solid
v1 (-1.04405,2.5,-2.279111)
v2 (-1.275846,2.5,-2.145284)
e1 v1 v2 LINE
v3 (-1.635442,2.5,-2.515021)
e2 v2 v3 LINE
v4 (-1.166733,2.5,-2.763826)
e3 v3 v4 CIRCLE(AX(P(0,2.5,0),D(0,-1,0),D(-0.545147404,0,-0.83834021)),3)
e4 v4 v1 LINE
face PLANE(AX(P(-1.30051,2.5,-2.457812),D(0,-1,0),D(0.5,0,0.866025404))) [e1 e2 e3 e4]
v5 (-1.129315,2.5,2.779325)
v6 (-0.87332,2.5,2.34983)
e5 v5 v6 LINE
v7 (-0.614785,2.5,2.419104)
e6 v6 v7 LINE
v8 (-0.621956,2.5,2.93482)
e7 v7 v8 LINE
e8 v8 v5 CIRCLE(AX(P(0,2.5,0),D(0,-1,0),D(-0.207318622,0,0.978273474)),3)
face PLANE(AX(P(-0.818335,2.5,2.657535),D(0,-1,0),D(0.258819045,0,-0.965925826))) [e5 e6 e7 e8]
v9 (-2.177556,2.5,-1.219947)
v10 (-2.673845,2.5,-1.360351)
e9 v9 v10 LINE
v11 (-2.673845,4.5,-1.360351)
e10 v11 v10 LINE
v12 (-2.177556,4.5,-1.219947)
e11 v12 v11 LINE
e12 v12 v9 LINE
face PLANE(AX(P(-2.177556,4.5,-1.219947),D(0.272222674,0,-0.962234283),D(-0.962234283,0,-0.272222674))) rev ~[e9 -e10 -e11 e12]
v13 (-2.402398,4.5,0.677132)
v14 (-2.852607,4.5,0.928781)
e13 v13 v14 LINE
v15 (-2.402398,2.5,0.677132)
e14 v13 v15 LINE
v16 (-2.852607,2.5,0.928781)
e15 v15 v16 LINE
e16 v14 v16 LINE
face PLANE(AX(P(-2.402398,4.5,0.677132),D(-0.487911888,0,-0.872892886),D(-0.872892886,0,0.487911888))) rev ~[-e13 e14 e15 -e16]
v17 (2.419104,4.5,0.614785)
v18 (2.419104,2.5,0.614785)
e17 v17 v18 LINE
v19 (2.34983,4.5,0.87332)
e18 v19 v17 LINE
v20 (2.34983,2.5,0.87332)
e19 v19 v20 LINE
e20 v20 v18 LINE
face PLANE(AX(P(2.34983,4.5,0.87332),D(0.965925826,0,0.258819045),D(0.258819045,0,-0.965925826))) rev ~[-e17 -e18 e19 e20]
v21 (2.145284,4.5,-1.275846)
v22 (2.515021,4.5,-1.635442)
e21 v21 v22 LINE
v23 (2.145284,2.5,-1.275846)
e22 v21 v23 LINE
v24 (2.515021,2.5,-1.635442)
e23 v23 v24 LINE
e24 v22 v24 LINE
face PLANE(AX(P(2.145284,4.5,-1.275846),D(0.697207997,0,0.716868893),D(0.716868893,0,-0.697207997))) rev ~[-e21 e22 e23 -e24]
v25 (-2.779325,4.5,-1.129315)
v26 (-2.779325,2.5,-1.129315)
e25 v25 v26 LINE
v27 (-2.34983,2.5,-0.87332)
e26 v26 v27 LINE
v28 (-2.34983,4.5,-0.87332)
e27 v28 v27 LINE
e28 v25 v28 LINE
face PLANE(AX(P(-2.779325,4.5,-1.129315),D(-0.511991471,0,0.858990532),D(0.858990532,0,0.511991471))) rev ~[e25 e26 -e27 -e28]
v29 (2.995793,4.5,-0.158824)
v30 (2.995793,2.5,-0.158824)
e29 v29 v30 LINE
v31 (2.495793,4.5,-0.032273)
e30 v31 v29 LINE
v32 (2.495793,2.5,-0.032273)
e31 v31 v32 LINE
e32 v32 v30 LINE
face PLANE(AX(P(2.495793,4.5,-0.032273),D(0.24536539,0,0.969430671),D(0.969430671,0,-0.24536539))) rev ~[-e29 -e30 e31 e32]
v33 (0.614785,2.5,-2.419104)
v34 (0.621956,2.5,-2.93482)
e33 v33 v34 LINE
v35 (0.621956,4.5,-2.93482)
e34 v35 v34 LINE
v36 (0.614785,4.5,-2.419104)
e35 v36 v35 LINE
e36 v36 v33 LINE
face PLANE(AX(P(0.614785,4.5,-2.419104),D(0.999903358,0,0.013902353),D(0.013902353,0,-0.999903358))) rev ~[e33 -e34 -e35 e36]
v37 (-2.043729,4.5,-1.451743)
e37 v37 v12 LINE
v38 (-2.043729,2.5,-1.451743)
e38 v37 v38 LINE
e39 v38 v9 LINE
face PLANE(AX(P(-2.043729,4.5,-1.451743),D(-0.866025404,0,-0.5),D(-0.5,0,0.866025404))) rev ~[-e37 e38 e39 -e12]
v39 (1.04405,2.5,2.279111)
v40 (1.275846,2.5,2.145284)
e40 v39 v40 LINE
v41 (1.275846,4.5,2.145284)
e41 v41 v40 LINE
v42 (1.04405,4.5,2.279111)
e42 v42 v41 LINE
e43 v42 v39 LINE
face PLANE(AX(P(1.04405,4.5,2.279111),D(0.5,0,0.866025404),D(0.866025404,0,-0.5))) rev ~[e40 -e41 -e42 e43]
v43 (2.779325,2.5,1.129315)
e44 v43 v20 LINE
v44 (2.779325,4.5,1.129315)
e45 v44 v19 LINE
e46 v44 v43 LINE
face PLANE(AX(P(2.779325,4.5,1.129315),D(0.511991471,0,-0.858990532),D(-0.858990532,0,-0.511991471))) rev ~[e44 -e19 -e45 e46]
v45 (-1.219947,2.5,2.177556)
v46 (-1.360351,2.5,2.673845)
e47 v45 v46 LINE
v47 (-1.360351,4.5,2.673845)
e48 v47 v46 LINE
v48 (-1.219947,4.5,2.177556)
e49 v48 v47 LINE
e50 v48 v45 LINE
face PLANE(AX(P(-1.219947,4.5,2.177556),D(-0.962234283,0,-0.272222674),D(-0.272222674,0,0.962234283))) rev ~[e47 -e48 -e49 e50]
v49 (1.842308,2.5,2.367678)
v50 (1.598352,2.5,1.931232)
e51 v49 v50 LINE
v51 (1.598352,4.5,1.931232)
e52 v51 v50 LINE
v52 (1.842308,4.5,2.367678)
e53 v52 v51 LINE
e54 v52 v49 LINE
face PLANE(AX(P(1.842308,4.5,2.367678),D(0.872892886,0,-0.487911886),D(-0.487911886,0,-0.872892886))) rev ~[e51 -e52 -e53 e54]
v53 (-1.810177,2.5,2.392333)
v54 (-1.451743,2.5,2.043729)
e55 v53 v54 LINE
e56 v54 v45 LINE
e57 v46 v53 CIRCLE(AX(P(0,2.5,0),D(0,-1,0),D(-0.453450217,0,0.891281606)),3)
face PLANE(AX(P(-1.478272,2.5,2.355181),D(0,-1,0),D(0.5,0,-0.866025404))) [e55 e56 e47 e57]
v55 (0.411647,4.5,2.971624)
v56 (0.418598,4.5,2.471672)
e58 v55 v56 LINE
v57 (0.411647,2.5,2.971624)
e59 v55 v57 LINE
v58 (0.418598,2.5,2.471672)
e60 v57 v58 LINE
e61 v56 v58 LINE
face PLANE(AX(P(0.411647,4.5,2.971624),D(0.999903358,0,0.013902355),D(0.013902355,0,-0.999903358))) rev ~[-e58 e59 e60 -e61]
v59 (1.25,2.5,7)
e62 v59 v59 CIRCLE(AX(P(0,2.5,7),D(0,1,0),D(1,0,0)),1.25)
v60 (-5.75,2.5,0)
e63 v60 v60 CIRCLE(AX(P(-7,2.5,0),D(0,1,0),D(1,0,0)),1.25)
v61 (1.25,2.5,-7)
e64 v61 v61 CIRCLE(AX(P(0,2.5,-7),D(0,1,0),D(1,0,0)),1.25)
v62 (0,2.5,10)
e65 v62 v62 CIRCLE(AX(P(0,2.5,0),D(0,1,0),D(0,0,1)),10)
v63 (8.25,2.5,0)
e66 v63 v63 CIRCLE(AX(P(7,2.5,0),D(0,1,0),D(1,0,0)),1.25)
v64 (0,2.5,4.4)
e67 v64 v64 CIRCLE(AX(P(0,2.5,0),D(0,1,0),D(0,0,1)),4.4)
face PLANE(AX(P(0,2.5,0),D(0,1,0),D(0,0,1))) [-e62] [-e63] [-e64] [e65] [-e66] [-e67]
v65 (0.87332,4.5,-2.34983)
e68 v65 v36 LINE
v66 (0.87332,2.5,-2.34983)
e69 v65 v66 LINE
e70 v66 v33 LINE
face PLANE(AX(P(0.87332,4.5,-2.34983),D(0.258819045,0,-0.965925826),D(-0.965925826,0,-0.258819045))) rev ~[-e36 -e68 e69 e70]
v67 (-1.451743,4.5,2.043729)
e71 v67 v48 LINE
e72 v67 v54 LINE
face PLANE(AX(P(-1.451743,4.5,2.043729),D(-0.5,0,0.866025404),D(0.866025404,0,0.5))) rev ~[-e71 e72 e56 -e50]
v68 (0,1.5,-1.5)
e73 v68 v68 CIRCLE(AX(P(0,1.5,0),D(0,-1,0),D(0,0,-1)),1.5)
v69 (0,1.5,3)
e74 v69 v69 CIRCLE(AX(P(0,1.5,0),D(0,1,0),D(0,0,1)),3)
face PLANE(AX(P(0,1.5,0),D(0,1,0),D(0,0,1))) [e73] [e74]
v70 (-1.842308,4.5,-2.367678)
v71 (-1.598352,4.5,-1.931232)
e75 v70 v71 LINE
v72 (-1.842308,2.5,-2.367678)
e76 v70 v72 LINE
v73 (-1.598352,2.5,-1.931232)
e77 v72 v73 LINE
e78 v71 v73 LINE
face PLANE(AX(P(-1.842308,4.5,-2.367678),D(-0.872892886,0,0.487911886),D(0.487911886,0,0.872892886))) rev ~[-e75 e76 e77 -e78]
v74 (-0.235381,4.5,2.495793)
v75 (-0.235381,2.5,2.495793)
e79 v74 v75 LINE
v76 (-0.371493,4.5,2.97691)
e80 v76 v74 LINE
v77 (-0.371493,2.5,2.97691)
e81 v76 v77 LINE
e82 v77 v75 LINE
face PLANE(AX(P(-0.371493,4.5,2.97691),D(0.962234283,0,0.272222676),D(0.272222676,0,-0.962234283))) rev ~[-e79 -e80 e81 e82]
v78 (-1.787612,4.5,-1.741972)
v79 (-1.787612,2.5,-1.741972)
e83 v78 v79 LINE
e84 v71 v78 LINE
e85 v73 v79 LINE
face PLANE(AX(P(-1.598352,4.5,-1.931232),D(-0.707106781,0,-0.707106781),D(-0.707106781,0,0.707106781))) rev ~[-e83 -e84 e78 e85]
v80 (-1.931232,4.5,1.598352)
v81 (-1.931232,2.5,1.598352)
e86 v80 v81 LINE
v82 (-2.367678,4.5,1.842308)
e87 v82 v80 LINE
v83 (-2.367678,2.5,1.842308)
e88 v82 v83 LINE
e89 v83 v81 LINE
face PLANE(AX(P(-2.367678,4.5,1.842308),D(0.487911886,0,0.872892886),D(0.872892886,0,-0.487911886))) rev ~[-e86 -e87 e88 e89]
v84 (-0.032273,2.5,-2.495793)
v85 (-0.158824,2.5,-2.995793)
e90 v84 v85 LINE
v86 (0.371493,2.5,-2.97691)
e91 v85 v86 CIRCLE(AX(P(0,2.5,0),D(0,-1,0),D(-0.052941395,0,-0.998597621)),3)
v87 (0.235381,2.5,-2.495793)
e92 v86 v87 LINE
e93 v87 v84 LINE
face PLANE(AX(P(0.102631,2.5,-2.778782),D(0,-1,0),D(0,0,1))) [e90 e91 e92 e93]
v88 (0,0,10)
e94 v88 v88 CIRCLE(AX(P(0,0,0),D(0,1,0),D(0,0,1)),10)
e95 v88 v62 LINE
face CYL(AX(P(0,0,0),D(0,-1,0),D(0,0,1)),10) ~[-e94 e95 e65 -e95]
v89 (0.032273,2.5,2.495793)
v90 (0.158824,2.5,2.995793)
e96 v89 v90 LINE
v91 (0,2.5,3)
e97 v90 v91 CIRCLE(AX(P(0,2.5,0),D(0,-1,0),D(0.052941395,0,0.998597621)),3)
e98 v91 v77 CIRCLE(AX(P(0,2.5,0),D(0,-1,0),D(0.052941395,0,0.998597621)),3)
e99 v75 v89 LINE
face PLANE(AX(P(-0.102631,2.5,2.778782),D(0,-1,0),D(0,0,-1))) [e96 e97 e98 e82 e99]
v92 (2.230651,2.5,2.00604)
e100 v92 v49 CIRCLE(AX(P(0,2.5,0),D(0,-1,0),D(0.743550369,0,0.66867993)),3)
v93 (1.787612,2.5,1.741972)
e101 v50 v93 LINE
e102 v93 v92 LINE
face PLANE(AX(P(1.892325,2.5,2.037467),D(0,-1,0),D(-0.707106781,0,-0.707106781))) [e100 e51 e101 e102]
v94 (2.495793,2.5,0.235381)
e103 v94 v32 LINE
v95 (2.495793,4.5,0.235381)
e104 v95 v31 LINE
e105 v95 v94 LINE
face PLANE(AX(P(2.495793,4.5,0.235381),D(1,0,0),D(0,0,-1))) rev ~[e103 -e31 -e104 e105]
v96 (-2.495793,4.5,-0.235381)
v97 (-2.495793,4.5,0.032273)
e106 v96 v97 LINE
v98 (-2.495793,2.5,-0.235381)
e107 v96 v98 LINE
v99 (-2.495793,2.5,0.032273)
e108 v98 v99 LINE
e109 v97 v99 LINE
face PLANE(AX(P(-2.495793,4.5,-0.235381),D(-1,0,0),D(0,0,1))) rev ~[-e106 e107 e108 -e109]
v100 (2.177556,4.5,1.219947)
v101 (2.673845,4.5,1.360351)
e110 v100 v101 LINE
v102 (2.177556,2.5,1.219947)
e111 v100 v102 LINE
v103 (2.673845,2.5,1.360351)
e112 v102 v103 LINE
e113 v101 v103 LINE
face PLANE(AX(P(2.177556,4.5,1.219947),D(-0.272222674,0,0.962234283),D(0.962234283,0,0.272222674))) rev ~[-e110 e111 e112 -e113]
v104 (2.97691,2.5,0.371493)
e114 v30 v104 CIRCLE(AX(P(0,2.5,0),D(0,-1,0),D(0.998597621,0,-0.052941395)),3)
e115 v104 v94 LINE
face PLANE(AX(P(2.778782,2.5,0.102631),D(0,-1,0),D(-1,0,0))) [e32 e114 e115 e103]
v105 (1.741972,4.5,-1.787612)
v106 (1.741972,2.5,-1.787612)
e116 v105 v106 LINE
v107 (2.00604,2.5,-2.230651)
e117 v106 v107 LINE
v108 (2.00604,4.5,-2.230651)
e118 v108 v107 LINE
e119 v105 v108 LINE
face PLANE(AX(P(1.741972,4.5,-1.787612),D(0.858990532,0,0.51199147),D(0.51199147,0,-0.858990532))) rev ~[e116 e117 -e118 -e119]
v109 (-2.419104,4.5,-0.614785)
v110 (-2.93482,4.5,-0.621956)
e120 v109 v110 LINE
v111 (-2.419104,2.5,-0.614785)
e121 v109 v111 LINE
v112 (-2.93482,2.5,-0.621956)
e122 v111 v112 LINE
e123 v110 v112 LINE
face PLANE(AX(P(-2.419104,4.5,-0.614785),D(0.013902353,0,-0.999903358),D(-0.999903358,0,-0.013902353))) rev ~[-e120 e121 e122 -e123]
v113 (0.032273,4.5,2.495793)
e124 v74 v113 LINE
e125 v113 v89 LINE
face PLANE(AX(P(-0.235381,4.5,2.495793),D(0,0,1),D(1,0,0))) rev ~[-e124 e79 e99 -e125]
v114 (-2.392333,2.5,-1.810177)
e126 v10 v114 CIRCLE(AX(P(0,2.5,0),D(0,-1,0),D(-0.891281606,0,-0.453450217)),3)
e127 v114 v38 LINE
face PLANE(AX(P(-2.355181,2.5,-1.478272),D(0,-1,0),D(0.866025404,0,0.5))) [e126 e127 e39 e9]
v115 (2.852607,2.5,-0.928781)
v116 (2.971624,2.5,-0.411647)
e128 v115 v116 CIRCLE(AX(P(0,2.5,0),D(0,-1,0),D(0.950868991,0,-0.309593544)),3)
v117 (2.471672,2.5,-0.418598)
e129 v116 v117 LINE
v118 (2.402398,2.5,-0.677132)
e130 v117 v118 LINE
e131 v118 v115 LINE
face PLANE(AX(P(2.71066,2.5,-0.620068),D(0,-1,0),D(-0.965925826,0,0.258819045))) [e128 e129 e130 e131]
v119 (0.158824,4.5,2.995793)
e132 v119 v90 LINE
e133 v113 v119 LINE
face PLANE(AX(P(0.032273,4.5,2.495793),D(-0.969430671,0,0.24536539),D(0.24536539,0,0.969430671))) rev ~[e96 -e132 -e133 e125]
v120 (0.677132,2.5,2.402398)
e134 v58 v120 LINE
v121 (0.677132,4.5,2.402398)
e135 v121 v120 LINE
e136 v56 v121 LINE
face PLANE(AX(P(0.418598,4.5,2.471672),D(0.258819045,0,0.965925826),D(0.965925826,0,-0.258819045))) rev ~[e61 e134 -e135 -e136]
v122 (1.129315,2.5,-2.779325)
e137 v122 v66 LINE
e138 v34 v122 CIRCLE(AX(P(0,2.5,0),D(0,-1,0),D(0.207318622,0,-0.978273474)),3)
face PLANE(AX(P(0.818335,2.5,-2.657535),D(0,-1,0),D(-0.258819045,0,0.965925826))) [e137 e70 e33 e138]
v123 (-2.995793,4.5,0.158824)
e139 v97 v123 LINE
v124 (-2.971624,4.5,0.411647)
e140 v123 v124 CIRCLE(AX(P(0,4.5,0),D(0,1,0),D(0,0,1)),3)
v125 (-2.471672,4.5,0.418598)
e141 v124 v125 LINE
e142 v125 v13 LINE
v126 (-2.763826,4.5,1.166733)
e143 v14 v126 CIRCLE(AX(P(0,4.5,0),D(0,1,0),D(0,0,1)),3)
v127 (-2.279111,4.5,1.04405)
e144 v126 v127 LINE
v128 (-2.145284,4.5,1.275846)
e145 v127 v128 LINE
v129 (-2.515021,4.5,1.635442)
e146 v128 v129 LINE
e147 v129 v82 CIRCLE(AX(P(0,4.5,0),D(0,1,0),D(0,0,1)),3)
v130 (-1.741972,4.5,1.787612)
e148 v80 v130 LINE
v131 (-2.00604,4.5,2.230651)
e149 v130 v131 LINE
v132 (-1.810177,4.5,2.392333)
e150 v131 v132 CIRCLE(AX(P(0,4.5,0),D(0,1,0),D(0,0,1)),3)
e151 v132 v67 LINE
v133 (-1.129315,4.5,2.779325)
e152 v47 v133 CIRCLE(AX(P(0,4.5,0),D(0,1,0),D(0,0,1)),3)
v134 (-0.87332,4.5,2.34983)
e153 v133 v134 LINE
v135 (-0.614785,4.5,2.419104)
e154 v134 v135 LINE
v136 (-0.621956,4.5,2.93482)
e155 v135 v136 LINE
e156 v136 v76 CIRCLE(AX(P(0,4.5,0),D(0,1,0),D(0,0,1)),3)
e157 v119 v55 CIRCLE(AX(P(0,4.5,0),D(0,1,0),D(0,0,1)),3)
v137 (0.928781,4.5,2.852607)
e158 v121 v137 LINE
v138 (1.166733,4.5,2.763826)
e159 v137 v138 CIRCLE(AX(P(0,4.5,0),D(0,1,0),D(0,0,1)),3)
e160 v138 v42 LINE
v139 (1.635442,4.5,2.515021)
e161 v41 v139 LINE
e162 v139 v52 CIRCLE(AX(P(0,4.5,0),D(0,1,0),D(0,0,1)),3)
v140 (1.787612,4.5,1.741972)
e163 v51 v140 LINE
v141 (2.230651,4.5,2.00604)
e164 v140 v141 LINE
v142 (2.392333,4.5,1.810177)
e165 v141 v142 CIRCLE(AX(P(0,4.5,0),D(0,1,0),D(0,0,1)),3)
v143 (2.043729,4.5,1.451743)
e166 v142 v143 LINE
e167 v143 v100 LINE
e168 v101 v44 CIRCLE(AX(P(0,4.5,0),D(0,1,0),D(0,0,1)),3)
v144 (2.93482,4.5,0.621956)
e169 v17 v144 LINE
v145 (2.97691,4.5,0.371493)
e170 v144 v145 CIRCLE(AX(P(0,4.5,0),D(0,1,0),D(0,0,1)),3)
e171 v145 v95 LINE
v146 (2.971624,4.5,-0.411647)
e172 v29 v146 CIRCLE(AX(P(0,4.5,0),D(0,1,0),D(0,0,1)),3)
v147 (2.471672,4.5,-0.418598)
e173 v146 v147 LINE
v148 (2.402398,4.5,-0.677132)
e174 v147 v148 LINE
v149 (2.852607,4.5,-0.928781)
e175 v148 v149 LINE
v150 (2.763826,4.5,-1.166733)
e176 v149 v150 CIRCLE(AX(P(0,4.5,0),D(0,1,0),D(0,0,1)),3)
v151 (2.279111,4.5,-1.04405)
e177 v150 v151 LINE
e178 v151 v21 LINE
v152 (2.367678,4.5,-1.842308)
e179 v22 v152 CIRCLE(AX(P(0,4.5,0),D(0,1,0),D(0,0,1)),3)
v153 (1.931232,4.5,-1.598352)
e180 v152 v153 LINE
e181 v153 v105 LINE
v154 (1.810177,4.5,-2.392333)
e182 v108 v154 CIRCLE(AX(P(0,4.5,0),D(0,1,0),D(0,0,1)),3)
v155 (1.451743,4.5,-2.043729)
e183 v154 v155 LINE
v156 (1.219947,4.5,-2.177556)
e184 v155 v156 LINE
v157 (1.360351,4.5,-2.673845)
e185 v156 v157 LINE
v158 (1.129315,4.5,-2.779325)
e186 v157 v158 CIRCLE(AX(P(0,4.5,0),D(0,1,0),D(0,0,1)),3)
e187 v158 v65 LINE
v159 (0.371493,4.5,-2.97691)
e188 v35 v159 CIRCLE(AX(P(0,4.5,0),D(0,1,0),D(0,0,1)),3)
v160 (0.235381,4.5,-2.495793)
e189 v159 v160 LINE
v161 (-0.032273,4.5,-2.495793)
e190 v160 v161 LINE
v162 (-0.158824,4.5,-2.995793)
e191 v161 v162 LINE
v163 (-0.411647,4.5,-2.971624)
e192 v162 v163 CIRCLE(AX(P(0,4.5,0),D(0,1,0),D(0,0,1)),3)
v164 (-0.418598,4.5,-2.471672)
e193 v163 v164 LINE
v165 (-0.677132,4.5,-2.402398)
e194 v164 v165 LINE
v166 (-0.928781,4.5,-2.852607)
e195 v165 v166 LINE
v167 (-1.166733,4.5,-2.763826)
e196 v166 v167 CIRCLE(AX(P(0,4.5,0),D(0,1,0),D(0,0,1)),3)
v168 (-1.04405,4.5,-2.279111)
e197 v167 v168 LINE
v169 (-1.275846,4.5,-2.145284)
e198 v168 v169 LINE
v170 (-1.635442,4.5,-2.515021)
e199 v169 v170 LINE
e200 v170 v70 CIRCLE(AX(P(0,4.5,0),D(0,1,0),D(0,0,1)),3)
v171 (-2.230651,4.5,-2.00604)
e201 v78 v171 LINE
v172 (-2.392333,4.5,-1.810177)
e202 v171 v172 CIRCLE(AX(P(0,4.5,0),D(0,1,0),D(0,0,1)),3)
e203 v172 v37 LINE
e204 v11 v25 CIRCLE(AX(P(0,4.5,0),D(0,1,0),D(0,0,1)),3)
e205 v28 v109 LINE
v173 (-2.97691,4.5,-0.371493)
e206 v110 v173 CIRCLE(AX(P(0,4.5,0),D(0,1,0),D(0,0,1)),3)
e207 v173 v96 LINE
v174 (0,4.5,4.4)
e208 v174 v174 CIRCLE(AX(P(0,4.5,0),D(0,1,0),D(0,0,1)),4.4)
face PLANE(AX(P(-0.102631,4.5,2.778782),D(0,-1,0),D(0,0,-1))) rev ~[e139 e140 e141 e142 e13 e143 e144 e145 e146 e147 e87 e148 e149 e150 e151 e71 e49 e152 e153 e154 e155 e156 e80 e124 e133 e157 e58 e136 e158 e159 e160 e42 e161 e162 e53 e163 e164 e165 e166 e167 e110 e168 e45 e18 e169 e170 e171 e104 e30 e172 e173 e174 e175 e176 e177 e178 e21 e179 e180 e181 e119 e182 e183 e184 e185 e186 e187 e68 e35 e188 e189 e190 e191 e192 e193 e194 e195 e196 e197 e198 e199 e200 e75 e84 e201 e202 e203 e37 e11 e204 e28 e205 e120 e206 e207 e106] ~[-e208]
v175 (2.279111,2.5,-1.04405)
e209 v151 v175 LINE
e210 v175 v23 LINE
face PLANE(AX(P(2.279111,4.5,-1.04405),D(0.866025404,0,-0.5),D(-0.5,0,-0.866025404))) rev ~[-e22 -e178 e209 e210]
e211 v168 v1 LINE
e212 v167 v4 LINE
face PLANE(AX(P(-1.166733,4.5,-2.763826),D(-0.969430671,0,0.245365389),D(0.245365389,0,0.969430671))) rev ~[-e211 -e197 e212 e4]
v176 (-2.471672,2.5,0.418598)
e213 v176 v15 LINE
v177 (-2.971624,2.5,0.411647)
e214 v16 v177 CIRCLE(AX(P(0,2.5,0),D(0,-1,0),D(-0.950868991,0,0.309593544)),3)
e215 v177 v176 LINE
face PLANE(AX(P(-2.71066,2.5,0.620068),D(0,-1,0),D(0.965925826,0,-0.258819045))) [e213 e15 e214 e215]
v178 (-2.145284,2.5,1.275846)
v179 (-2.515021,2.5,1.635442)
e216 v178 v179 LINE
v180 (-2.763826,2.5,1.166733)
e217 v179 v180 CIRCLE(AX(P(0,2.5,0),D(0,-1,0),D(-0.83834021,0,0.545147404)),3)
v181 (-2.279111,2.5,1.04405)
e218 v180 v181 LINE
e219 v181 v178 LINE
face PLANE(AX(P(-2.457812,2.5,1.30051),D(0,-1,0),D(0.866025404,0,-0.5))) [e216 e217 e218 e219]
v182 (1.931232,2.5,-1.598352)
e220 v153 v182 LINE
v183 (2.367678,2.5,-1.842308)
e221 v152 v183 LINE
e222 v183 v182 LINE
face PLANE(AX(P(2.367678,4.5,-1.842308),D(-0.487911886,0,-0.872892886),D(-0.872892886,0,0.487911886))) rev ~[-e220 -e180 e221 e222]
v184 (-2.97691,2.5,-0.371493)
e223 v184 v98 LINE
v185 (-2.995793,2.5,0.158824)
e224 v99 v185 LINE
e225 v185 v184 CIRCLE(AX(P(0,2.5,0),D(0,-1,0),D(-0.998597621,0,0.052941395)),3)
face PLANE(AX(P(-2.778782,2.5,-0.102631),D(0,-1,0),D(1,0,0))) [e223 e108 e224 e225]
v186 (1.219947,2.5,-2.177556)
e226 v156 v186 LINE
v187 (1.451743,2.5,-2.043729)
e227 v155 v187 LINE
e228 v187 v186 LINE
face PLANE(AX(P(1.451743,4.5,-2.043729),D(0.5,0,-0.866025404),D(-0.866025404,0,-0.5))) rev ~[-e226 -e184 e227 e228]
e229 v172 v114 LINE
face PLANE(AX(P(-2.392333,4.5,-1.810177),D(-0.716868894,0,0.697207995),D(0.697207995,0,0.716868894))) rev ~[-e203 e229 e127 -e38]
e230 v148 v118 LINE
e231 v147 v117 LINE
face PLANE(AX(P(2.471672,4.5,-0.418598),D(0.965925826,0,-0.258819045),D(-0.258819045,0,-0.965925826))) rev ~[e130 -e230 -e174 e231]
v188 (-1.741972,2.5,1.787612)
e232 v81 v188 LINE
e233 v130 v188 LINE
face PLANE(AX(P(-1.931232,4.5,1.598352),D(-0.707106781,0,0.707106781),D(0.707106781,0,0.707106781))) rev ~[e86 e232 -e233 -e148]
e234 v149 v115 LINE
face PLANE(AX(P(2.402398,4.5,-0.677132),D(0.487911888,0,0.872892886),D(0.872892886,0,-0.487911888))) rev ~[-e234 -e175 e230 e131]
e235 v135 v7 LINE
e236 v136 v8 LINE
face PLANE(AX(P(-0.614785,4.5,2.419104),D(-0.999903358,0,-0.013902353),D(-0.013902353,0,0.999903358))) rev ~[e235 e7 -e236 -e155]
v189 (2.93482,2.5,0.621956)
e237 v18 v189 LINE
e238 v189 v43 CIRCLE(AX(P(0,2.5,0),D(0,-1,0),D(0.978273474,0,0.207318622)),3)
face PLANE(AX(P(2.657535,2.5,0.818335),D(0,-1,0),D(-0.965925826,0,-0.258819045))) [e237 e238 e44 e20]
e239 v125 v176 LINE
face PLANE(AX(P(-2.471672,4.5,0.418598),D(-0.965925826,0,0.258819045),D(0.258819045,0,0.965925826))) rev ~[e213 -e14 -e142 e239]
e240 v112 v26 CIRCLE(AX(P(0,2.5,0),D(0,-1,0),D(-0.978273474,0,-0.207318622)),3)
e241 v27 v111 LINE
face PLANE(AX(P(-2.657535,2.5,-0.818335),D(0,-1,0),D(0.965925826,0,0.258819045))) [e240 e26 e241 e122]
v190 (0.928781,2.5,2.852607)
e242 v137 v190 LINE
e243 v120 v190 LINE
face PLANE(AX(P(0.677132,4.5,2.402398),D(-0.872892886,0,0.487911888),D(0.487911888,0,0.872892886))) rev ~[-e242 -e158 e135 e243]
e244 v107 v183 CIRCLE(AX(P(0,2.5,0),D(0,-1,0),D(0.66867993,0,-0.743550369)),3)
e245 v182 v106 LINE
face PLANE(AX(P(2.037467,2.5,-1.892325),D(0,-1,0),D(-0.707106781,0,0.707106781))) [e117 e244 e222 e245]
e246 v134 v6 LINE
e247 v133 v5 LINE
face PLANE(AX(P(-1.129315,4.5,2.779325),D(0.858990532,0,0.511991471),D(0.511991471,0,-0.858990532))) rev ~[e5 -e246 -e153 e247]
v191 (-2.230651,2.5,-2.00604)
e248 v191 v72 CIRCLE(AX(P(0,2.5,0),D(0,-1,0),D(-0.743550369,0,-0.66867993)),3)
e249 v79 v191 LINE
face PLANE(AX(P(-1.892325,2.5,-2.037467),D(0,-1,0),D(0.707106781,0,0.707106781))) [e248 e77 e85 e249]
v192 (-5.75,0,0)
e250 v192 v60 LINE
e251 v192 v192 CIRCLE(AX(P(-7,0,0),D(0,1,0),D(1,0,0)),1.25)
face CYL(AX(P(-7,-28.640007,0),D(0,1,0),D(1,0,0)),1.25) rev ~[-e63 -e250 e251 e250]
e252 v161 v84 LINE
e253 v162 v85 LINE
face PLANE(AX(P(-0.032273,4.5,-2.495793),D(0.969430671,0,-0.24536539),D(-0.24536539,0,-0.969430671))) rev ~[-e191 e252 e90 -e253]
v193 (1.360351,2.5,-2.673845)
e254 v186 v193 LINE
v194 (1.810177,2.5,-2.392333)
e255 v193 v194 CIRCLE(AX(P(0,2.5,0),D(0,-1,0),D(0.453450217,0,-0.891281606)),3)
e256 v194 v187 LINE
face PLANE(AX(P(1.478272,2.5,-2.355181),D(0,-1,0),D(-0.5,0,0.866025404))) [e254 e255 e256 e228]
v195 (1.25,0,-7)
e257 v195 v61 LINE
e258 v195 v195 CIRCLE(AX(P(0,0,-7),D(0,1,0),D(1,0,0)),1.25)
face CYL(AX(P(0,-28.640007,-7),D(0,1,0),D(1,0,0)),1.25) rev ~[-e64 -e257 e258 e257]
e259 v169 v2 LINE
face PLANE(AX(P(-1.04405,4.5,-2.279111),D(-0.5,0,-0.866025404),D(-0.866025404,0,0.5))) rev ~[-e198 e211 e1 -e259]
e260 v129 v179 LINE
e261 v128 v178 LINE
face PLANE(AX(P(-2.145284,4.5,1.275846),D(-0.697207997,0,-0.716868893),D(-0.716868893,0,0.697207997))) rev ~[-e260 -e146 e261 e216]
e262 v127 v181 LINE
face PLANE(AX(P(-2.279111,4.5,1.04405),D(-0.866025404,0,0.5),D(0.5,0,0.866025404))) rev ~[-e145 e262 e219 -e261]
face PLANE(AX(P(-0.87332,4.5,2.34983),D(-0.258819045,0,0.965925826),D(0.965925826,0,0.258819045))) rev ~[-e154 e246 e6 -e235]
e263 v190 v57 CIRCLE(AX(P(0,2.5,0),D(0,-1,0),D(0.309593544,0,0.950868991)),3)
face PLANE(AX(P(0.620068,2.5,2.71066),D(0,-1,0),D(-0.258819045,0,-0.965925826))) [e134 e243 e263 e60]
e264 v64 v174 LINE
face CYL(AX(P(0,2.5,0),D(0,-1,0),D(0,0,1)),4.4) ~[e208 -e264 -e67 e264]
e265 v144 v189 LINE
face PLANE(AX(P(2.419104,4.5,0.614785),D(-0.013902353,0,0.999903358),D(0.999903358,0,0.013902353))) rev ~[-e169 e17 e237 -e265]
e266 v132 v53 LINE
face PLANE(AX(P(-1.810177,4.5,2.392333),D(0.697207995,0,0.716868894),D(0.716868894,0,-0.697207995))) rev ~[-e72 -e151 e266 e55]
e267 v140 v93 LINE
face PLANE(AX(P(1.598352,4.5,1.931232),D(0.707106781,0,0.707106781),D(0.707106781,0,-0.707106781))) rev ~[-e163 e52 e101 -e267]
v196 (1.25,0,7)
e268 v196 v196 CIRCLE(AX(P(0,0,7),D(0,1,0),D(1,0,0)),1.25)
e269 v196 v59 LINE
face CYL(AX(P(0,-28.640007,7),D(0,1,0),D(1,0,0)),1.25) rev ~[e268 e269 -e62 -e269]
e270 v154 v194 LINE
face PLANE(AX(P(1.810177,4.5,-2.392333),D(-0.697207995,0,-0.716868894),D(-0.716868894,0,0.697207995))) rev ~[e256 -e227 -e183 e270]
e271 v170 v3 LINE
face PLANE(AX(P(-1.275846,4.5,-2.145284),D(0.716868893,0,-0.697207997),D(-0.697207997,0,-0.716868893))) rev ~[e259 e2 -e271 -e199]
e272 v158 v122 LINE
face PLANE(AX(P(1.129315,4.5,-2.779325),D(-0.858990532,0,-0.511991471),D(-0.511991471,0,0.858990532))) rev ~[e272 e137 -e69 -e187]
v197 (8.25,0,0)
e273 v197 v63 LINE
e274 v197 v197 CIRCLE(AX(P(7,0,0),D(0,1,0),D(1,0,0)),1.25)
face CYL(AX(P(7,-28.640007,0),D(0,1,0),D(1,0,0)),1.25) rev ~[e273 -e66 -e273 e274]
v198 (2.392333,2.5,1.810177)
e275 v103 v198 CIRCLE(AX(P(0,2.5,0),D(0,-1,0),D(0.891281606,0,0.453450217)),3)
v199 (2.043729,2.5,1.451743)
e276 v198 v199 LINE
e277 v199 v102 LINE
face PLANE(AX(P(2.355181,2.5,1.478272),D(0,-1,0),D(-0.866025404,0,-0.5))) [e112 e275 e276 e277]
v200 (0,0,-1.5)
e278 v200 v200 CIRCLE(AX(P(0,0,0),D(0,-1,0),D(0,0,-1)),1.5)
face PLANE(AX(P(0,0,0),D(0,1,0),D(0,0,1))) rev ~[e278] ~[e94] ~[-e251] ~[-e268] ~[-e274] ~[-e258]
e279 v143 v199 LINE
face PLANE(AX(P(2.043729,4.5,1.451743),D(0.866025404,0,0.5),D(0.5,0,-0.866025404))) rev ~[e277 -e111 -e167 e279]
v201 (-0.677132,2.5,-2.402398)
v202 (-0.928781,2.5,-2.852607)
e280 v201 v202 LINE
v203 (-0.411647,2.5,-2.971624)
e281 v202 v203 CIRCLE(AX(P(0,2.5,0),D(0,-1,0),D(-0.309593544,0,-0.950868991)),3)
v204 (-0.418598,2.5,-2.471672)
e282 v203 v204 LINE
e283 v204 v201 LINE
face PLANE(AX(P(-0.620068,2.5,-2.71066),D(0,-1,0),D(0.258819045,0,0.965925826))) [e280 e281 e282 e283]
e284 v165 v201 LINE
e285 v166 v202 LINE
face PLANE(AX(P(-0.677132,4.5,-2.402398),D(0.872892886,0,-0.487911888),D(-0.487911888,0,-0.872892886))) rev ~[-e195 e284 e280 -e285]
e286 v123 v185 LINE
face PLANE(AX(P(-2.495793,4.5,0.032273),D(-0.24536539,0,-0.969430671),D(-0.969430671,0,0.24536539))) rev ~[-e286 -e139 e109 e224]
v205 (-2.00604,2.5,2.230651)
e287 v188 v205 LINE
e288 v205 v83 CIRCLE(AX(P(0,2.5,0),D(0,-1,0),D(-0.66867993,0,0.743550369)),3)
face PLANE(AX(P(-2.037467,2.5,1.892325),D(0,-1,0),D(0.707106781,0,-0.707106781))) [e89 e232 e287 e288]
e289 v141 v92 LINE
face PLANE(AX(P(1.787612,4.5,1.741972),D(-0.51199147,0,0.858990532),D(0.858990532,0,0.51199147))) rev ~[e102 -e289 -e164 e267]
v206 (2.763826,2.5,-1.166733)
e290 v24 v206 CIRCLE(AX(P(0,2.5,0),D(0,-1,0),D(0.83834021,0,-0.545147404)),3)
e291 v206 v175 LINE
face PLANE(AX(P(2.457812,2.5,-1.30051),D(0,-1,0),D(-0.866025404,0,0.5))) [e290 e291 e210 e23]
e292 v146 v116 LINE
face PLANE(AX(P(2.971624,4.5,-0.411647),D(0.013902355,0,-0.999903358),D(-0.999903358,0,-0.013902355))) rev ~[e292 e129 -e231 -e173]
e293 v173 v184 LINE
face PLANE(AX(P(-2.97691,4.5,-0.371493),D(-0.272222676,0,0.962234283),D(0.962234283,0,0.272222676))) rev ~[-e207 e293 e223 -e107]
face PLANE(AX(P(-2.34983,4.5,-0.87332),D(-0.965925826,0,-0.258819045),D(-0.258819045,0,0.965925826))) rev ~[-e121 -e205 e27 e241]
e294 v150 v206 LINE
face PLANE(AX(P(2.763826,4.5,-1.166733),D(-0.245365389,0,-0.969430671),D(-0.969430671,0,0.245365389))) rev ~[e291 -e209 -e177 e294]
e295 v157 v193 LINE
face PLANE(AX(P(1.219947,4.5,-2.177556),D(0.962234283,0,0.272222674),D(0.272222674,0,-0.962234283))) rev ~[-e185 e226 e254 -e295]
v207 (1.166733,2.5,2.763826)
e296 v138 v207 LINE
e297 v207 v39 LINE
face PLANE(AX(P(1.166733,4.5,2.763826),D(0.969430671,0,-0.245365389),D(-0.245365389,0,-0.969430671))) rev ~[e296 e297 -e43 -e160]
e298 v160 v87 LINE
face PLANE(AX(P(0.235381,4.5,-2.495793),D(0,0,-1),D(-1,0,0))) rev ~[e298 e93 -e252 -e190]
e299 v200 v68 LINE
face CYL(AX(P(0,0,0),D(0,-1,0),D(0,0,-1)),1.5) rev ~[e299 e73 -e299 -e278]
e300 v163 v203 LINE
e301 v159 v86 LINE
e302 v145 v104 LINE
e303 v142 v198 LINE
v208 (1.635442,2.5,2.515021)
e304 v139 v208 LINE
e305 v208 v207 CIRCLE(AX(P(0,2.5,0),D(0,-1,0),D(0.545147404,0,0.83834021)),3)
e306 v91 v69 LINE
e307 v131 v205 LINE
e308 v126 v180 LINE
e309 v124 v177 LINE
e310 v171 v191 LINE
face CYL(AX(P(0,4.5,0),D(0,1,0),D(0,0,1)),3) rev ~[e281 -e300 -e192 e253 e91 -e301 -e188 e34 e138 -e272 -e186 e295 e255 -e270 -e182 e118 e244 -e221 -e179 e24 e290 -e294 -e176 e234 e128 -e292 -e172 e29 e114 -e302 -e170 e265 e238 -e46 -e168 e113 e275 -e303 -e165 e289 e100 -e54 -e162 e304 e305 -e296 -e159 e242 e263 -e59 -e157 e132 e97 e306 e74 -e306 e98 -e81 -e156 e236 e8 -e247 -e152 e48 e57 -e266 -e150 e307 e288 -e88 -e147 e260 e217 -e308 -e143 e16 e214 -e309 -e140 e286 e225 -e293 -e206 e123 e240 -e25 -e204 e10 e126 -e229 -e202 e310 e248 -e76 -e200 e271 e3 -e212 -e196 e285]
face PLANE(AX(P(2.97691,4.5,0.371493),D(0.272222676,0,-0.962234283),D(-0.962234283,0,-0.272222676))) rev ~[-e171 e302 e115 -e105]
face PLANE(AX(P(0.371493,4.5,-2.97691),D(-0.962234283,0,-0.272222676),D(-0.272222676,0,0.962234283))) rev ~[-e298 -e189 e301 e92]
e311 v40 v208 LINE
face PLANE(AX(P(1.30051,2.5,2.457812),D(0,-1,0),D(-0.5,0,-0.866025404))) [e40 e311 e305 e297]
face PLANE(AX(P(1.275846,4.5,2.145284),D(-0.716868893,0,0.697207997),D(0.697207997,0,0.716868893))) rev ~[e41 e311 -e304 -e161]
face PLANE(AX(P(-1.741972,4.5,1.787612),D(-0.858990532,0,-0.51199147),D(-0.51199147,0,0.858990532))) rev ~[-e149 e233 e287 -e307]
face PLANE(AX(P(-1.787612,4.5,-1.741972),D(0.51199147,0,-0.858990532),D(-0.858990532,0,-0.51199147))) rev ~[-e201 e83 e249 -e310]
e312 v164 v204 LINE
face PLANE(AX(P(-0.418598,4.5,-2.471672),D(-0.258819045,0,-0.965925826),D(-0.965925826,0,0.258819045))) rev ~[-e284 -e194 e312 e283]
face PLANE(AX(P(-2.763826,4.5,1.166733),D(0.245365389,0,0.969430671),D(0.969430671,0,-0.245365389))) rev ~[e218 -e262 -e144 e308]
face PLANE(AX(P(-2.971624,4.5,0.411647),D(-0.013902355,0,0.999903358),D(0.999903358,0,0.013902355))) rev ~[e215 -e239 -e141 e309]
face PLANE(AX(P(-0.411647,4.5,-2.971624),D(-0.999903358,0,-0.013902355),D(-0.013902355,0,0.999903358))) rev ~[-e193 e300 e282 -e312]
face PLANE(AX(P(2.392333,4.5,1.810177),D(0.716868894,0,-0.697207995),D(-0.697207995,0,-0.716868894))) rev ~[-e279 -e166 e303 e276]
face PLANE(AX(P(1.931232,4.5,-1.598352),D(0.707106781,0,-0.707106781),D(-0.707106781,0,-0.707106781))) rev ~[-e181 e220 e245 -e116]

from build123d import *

# Parameters (mm, degrees)
SKETCH_4_R               = 10
EXTRUDE_2_DEPTH          = 2.5
SKETCH_7_R               = 4.4
EXTRUDE_3_DEPTH          = 2
SKETCH_8_R               = 3
CUT_EXTRUDE_10_DEPTH     = 3
EXTRUDE_5_DEPTH          = 2
PATTERN_CIRCULAR_1_COUNT = 24
HOLE_WIZARD_M3_1_D       = 2.5
CUT_EXTRUDE_11_REACH     = 16.841
SKETCH_18_R              = 1.5


with BuildPart() as part:
    # 草图4 → 凸台-拉伸2 (new body)
    with BuildSketch(Plane(origin=(0, 0, 0), x_dir=(1, 0, 0), z_dir=(0, 1, 0))):
        Circle(SKETCH_4_R)
    extrude(amount=EXTRUDE_2_DEPTH)

    # 草图7 → 凸台-拉伸3 (add)
    with BuildSketch(Plane(origin=(0, 2.5, 0), x_dir=(1, 0, 0), z_dir=(0, 1, 0))):
        Circle(SKETCH_7_R)
    extrude(amount=EXTRUDE_3_DEPTH)

    # 草图8 → 切除-拉伸10 (cut)
    with BuildSketch(Plane(origin=(0, 4.5, 0), x_dir=(1, 0, 0), z_dir=(0, 1, 0))):
        Circle(SKETCH_8_R)
    extrude(amount=-CUT_EXTRUDE_10_DEPTH, mode=Mode.SUBTRACT)

    # 草图14 → 凸台-拉伸5 (add)
    with BuildSketch(Plane(origin=(0, 4.5, 0), x_dir=(1, 0, 0), z_dir=(0, 1, 0))):
        with BuildLine():
            Line((2.976910005, -0.371492698), (2.495792863, -0.23538136))
            Line((2.495792863, -0.23538136), (2.495792863, 0.032272898))
            Line((2.495792863, 0.032272898), (2.995792863, 0.158824181))
            ThreePointArc((2.995792863, 0.158824181), (2.998100046, -0.106752588), (2.976910005, -0.371492698))
        make_face()
    extrude_5 = extrude(amount=-EXTRUDE_5_DEPTH)

    # 阵列(圆周)1: 凸台-拉伸5 ×24 about axis
    pattern_circular_1_axis = Axis((0, 4.5, 0), (0, 1, 0))
    for i in range(1, PATTERN_CIRCULAR_1_COUNT):
        add(extrude_5.rotate(pattern_circular_1_axis, i * 360 / PATTERN_CIRCULAR_1_COUNT))

    # M3 螺纹孔1 (through all)
    with Locations(Plane(origin=(0, 0, 0), x_dir=(-1, 0, 0), z_dir=(0, -1, 0))):
        with Locations((0, -7), (7, 0), (0, 7), (-7, 0)):
            Hole(HOLE_WIZARD_M3_1_D / 2)

    # 草图18 → 切除-拉伸11 (cut, up to next)
    with BuildSketch(Plane.XZ, mode=Mode.PRIVATE) as cut_extrude_11_sk1:
        Circle(SKETCH_18_R)
    cut_extrude_11_tool1 = extrude(cut_extrude_11_sk1.sketch, amount=-CUT_EXTRUDE_11_REACH, mode=Mode.PRIVATE) & part.part
    add(cut_extrude_11_tool1.solids().sort_by_distance((0, 0, 0))[0], mode=Mode.SUBTRACT)


solid = part.part
